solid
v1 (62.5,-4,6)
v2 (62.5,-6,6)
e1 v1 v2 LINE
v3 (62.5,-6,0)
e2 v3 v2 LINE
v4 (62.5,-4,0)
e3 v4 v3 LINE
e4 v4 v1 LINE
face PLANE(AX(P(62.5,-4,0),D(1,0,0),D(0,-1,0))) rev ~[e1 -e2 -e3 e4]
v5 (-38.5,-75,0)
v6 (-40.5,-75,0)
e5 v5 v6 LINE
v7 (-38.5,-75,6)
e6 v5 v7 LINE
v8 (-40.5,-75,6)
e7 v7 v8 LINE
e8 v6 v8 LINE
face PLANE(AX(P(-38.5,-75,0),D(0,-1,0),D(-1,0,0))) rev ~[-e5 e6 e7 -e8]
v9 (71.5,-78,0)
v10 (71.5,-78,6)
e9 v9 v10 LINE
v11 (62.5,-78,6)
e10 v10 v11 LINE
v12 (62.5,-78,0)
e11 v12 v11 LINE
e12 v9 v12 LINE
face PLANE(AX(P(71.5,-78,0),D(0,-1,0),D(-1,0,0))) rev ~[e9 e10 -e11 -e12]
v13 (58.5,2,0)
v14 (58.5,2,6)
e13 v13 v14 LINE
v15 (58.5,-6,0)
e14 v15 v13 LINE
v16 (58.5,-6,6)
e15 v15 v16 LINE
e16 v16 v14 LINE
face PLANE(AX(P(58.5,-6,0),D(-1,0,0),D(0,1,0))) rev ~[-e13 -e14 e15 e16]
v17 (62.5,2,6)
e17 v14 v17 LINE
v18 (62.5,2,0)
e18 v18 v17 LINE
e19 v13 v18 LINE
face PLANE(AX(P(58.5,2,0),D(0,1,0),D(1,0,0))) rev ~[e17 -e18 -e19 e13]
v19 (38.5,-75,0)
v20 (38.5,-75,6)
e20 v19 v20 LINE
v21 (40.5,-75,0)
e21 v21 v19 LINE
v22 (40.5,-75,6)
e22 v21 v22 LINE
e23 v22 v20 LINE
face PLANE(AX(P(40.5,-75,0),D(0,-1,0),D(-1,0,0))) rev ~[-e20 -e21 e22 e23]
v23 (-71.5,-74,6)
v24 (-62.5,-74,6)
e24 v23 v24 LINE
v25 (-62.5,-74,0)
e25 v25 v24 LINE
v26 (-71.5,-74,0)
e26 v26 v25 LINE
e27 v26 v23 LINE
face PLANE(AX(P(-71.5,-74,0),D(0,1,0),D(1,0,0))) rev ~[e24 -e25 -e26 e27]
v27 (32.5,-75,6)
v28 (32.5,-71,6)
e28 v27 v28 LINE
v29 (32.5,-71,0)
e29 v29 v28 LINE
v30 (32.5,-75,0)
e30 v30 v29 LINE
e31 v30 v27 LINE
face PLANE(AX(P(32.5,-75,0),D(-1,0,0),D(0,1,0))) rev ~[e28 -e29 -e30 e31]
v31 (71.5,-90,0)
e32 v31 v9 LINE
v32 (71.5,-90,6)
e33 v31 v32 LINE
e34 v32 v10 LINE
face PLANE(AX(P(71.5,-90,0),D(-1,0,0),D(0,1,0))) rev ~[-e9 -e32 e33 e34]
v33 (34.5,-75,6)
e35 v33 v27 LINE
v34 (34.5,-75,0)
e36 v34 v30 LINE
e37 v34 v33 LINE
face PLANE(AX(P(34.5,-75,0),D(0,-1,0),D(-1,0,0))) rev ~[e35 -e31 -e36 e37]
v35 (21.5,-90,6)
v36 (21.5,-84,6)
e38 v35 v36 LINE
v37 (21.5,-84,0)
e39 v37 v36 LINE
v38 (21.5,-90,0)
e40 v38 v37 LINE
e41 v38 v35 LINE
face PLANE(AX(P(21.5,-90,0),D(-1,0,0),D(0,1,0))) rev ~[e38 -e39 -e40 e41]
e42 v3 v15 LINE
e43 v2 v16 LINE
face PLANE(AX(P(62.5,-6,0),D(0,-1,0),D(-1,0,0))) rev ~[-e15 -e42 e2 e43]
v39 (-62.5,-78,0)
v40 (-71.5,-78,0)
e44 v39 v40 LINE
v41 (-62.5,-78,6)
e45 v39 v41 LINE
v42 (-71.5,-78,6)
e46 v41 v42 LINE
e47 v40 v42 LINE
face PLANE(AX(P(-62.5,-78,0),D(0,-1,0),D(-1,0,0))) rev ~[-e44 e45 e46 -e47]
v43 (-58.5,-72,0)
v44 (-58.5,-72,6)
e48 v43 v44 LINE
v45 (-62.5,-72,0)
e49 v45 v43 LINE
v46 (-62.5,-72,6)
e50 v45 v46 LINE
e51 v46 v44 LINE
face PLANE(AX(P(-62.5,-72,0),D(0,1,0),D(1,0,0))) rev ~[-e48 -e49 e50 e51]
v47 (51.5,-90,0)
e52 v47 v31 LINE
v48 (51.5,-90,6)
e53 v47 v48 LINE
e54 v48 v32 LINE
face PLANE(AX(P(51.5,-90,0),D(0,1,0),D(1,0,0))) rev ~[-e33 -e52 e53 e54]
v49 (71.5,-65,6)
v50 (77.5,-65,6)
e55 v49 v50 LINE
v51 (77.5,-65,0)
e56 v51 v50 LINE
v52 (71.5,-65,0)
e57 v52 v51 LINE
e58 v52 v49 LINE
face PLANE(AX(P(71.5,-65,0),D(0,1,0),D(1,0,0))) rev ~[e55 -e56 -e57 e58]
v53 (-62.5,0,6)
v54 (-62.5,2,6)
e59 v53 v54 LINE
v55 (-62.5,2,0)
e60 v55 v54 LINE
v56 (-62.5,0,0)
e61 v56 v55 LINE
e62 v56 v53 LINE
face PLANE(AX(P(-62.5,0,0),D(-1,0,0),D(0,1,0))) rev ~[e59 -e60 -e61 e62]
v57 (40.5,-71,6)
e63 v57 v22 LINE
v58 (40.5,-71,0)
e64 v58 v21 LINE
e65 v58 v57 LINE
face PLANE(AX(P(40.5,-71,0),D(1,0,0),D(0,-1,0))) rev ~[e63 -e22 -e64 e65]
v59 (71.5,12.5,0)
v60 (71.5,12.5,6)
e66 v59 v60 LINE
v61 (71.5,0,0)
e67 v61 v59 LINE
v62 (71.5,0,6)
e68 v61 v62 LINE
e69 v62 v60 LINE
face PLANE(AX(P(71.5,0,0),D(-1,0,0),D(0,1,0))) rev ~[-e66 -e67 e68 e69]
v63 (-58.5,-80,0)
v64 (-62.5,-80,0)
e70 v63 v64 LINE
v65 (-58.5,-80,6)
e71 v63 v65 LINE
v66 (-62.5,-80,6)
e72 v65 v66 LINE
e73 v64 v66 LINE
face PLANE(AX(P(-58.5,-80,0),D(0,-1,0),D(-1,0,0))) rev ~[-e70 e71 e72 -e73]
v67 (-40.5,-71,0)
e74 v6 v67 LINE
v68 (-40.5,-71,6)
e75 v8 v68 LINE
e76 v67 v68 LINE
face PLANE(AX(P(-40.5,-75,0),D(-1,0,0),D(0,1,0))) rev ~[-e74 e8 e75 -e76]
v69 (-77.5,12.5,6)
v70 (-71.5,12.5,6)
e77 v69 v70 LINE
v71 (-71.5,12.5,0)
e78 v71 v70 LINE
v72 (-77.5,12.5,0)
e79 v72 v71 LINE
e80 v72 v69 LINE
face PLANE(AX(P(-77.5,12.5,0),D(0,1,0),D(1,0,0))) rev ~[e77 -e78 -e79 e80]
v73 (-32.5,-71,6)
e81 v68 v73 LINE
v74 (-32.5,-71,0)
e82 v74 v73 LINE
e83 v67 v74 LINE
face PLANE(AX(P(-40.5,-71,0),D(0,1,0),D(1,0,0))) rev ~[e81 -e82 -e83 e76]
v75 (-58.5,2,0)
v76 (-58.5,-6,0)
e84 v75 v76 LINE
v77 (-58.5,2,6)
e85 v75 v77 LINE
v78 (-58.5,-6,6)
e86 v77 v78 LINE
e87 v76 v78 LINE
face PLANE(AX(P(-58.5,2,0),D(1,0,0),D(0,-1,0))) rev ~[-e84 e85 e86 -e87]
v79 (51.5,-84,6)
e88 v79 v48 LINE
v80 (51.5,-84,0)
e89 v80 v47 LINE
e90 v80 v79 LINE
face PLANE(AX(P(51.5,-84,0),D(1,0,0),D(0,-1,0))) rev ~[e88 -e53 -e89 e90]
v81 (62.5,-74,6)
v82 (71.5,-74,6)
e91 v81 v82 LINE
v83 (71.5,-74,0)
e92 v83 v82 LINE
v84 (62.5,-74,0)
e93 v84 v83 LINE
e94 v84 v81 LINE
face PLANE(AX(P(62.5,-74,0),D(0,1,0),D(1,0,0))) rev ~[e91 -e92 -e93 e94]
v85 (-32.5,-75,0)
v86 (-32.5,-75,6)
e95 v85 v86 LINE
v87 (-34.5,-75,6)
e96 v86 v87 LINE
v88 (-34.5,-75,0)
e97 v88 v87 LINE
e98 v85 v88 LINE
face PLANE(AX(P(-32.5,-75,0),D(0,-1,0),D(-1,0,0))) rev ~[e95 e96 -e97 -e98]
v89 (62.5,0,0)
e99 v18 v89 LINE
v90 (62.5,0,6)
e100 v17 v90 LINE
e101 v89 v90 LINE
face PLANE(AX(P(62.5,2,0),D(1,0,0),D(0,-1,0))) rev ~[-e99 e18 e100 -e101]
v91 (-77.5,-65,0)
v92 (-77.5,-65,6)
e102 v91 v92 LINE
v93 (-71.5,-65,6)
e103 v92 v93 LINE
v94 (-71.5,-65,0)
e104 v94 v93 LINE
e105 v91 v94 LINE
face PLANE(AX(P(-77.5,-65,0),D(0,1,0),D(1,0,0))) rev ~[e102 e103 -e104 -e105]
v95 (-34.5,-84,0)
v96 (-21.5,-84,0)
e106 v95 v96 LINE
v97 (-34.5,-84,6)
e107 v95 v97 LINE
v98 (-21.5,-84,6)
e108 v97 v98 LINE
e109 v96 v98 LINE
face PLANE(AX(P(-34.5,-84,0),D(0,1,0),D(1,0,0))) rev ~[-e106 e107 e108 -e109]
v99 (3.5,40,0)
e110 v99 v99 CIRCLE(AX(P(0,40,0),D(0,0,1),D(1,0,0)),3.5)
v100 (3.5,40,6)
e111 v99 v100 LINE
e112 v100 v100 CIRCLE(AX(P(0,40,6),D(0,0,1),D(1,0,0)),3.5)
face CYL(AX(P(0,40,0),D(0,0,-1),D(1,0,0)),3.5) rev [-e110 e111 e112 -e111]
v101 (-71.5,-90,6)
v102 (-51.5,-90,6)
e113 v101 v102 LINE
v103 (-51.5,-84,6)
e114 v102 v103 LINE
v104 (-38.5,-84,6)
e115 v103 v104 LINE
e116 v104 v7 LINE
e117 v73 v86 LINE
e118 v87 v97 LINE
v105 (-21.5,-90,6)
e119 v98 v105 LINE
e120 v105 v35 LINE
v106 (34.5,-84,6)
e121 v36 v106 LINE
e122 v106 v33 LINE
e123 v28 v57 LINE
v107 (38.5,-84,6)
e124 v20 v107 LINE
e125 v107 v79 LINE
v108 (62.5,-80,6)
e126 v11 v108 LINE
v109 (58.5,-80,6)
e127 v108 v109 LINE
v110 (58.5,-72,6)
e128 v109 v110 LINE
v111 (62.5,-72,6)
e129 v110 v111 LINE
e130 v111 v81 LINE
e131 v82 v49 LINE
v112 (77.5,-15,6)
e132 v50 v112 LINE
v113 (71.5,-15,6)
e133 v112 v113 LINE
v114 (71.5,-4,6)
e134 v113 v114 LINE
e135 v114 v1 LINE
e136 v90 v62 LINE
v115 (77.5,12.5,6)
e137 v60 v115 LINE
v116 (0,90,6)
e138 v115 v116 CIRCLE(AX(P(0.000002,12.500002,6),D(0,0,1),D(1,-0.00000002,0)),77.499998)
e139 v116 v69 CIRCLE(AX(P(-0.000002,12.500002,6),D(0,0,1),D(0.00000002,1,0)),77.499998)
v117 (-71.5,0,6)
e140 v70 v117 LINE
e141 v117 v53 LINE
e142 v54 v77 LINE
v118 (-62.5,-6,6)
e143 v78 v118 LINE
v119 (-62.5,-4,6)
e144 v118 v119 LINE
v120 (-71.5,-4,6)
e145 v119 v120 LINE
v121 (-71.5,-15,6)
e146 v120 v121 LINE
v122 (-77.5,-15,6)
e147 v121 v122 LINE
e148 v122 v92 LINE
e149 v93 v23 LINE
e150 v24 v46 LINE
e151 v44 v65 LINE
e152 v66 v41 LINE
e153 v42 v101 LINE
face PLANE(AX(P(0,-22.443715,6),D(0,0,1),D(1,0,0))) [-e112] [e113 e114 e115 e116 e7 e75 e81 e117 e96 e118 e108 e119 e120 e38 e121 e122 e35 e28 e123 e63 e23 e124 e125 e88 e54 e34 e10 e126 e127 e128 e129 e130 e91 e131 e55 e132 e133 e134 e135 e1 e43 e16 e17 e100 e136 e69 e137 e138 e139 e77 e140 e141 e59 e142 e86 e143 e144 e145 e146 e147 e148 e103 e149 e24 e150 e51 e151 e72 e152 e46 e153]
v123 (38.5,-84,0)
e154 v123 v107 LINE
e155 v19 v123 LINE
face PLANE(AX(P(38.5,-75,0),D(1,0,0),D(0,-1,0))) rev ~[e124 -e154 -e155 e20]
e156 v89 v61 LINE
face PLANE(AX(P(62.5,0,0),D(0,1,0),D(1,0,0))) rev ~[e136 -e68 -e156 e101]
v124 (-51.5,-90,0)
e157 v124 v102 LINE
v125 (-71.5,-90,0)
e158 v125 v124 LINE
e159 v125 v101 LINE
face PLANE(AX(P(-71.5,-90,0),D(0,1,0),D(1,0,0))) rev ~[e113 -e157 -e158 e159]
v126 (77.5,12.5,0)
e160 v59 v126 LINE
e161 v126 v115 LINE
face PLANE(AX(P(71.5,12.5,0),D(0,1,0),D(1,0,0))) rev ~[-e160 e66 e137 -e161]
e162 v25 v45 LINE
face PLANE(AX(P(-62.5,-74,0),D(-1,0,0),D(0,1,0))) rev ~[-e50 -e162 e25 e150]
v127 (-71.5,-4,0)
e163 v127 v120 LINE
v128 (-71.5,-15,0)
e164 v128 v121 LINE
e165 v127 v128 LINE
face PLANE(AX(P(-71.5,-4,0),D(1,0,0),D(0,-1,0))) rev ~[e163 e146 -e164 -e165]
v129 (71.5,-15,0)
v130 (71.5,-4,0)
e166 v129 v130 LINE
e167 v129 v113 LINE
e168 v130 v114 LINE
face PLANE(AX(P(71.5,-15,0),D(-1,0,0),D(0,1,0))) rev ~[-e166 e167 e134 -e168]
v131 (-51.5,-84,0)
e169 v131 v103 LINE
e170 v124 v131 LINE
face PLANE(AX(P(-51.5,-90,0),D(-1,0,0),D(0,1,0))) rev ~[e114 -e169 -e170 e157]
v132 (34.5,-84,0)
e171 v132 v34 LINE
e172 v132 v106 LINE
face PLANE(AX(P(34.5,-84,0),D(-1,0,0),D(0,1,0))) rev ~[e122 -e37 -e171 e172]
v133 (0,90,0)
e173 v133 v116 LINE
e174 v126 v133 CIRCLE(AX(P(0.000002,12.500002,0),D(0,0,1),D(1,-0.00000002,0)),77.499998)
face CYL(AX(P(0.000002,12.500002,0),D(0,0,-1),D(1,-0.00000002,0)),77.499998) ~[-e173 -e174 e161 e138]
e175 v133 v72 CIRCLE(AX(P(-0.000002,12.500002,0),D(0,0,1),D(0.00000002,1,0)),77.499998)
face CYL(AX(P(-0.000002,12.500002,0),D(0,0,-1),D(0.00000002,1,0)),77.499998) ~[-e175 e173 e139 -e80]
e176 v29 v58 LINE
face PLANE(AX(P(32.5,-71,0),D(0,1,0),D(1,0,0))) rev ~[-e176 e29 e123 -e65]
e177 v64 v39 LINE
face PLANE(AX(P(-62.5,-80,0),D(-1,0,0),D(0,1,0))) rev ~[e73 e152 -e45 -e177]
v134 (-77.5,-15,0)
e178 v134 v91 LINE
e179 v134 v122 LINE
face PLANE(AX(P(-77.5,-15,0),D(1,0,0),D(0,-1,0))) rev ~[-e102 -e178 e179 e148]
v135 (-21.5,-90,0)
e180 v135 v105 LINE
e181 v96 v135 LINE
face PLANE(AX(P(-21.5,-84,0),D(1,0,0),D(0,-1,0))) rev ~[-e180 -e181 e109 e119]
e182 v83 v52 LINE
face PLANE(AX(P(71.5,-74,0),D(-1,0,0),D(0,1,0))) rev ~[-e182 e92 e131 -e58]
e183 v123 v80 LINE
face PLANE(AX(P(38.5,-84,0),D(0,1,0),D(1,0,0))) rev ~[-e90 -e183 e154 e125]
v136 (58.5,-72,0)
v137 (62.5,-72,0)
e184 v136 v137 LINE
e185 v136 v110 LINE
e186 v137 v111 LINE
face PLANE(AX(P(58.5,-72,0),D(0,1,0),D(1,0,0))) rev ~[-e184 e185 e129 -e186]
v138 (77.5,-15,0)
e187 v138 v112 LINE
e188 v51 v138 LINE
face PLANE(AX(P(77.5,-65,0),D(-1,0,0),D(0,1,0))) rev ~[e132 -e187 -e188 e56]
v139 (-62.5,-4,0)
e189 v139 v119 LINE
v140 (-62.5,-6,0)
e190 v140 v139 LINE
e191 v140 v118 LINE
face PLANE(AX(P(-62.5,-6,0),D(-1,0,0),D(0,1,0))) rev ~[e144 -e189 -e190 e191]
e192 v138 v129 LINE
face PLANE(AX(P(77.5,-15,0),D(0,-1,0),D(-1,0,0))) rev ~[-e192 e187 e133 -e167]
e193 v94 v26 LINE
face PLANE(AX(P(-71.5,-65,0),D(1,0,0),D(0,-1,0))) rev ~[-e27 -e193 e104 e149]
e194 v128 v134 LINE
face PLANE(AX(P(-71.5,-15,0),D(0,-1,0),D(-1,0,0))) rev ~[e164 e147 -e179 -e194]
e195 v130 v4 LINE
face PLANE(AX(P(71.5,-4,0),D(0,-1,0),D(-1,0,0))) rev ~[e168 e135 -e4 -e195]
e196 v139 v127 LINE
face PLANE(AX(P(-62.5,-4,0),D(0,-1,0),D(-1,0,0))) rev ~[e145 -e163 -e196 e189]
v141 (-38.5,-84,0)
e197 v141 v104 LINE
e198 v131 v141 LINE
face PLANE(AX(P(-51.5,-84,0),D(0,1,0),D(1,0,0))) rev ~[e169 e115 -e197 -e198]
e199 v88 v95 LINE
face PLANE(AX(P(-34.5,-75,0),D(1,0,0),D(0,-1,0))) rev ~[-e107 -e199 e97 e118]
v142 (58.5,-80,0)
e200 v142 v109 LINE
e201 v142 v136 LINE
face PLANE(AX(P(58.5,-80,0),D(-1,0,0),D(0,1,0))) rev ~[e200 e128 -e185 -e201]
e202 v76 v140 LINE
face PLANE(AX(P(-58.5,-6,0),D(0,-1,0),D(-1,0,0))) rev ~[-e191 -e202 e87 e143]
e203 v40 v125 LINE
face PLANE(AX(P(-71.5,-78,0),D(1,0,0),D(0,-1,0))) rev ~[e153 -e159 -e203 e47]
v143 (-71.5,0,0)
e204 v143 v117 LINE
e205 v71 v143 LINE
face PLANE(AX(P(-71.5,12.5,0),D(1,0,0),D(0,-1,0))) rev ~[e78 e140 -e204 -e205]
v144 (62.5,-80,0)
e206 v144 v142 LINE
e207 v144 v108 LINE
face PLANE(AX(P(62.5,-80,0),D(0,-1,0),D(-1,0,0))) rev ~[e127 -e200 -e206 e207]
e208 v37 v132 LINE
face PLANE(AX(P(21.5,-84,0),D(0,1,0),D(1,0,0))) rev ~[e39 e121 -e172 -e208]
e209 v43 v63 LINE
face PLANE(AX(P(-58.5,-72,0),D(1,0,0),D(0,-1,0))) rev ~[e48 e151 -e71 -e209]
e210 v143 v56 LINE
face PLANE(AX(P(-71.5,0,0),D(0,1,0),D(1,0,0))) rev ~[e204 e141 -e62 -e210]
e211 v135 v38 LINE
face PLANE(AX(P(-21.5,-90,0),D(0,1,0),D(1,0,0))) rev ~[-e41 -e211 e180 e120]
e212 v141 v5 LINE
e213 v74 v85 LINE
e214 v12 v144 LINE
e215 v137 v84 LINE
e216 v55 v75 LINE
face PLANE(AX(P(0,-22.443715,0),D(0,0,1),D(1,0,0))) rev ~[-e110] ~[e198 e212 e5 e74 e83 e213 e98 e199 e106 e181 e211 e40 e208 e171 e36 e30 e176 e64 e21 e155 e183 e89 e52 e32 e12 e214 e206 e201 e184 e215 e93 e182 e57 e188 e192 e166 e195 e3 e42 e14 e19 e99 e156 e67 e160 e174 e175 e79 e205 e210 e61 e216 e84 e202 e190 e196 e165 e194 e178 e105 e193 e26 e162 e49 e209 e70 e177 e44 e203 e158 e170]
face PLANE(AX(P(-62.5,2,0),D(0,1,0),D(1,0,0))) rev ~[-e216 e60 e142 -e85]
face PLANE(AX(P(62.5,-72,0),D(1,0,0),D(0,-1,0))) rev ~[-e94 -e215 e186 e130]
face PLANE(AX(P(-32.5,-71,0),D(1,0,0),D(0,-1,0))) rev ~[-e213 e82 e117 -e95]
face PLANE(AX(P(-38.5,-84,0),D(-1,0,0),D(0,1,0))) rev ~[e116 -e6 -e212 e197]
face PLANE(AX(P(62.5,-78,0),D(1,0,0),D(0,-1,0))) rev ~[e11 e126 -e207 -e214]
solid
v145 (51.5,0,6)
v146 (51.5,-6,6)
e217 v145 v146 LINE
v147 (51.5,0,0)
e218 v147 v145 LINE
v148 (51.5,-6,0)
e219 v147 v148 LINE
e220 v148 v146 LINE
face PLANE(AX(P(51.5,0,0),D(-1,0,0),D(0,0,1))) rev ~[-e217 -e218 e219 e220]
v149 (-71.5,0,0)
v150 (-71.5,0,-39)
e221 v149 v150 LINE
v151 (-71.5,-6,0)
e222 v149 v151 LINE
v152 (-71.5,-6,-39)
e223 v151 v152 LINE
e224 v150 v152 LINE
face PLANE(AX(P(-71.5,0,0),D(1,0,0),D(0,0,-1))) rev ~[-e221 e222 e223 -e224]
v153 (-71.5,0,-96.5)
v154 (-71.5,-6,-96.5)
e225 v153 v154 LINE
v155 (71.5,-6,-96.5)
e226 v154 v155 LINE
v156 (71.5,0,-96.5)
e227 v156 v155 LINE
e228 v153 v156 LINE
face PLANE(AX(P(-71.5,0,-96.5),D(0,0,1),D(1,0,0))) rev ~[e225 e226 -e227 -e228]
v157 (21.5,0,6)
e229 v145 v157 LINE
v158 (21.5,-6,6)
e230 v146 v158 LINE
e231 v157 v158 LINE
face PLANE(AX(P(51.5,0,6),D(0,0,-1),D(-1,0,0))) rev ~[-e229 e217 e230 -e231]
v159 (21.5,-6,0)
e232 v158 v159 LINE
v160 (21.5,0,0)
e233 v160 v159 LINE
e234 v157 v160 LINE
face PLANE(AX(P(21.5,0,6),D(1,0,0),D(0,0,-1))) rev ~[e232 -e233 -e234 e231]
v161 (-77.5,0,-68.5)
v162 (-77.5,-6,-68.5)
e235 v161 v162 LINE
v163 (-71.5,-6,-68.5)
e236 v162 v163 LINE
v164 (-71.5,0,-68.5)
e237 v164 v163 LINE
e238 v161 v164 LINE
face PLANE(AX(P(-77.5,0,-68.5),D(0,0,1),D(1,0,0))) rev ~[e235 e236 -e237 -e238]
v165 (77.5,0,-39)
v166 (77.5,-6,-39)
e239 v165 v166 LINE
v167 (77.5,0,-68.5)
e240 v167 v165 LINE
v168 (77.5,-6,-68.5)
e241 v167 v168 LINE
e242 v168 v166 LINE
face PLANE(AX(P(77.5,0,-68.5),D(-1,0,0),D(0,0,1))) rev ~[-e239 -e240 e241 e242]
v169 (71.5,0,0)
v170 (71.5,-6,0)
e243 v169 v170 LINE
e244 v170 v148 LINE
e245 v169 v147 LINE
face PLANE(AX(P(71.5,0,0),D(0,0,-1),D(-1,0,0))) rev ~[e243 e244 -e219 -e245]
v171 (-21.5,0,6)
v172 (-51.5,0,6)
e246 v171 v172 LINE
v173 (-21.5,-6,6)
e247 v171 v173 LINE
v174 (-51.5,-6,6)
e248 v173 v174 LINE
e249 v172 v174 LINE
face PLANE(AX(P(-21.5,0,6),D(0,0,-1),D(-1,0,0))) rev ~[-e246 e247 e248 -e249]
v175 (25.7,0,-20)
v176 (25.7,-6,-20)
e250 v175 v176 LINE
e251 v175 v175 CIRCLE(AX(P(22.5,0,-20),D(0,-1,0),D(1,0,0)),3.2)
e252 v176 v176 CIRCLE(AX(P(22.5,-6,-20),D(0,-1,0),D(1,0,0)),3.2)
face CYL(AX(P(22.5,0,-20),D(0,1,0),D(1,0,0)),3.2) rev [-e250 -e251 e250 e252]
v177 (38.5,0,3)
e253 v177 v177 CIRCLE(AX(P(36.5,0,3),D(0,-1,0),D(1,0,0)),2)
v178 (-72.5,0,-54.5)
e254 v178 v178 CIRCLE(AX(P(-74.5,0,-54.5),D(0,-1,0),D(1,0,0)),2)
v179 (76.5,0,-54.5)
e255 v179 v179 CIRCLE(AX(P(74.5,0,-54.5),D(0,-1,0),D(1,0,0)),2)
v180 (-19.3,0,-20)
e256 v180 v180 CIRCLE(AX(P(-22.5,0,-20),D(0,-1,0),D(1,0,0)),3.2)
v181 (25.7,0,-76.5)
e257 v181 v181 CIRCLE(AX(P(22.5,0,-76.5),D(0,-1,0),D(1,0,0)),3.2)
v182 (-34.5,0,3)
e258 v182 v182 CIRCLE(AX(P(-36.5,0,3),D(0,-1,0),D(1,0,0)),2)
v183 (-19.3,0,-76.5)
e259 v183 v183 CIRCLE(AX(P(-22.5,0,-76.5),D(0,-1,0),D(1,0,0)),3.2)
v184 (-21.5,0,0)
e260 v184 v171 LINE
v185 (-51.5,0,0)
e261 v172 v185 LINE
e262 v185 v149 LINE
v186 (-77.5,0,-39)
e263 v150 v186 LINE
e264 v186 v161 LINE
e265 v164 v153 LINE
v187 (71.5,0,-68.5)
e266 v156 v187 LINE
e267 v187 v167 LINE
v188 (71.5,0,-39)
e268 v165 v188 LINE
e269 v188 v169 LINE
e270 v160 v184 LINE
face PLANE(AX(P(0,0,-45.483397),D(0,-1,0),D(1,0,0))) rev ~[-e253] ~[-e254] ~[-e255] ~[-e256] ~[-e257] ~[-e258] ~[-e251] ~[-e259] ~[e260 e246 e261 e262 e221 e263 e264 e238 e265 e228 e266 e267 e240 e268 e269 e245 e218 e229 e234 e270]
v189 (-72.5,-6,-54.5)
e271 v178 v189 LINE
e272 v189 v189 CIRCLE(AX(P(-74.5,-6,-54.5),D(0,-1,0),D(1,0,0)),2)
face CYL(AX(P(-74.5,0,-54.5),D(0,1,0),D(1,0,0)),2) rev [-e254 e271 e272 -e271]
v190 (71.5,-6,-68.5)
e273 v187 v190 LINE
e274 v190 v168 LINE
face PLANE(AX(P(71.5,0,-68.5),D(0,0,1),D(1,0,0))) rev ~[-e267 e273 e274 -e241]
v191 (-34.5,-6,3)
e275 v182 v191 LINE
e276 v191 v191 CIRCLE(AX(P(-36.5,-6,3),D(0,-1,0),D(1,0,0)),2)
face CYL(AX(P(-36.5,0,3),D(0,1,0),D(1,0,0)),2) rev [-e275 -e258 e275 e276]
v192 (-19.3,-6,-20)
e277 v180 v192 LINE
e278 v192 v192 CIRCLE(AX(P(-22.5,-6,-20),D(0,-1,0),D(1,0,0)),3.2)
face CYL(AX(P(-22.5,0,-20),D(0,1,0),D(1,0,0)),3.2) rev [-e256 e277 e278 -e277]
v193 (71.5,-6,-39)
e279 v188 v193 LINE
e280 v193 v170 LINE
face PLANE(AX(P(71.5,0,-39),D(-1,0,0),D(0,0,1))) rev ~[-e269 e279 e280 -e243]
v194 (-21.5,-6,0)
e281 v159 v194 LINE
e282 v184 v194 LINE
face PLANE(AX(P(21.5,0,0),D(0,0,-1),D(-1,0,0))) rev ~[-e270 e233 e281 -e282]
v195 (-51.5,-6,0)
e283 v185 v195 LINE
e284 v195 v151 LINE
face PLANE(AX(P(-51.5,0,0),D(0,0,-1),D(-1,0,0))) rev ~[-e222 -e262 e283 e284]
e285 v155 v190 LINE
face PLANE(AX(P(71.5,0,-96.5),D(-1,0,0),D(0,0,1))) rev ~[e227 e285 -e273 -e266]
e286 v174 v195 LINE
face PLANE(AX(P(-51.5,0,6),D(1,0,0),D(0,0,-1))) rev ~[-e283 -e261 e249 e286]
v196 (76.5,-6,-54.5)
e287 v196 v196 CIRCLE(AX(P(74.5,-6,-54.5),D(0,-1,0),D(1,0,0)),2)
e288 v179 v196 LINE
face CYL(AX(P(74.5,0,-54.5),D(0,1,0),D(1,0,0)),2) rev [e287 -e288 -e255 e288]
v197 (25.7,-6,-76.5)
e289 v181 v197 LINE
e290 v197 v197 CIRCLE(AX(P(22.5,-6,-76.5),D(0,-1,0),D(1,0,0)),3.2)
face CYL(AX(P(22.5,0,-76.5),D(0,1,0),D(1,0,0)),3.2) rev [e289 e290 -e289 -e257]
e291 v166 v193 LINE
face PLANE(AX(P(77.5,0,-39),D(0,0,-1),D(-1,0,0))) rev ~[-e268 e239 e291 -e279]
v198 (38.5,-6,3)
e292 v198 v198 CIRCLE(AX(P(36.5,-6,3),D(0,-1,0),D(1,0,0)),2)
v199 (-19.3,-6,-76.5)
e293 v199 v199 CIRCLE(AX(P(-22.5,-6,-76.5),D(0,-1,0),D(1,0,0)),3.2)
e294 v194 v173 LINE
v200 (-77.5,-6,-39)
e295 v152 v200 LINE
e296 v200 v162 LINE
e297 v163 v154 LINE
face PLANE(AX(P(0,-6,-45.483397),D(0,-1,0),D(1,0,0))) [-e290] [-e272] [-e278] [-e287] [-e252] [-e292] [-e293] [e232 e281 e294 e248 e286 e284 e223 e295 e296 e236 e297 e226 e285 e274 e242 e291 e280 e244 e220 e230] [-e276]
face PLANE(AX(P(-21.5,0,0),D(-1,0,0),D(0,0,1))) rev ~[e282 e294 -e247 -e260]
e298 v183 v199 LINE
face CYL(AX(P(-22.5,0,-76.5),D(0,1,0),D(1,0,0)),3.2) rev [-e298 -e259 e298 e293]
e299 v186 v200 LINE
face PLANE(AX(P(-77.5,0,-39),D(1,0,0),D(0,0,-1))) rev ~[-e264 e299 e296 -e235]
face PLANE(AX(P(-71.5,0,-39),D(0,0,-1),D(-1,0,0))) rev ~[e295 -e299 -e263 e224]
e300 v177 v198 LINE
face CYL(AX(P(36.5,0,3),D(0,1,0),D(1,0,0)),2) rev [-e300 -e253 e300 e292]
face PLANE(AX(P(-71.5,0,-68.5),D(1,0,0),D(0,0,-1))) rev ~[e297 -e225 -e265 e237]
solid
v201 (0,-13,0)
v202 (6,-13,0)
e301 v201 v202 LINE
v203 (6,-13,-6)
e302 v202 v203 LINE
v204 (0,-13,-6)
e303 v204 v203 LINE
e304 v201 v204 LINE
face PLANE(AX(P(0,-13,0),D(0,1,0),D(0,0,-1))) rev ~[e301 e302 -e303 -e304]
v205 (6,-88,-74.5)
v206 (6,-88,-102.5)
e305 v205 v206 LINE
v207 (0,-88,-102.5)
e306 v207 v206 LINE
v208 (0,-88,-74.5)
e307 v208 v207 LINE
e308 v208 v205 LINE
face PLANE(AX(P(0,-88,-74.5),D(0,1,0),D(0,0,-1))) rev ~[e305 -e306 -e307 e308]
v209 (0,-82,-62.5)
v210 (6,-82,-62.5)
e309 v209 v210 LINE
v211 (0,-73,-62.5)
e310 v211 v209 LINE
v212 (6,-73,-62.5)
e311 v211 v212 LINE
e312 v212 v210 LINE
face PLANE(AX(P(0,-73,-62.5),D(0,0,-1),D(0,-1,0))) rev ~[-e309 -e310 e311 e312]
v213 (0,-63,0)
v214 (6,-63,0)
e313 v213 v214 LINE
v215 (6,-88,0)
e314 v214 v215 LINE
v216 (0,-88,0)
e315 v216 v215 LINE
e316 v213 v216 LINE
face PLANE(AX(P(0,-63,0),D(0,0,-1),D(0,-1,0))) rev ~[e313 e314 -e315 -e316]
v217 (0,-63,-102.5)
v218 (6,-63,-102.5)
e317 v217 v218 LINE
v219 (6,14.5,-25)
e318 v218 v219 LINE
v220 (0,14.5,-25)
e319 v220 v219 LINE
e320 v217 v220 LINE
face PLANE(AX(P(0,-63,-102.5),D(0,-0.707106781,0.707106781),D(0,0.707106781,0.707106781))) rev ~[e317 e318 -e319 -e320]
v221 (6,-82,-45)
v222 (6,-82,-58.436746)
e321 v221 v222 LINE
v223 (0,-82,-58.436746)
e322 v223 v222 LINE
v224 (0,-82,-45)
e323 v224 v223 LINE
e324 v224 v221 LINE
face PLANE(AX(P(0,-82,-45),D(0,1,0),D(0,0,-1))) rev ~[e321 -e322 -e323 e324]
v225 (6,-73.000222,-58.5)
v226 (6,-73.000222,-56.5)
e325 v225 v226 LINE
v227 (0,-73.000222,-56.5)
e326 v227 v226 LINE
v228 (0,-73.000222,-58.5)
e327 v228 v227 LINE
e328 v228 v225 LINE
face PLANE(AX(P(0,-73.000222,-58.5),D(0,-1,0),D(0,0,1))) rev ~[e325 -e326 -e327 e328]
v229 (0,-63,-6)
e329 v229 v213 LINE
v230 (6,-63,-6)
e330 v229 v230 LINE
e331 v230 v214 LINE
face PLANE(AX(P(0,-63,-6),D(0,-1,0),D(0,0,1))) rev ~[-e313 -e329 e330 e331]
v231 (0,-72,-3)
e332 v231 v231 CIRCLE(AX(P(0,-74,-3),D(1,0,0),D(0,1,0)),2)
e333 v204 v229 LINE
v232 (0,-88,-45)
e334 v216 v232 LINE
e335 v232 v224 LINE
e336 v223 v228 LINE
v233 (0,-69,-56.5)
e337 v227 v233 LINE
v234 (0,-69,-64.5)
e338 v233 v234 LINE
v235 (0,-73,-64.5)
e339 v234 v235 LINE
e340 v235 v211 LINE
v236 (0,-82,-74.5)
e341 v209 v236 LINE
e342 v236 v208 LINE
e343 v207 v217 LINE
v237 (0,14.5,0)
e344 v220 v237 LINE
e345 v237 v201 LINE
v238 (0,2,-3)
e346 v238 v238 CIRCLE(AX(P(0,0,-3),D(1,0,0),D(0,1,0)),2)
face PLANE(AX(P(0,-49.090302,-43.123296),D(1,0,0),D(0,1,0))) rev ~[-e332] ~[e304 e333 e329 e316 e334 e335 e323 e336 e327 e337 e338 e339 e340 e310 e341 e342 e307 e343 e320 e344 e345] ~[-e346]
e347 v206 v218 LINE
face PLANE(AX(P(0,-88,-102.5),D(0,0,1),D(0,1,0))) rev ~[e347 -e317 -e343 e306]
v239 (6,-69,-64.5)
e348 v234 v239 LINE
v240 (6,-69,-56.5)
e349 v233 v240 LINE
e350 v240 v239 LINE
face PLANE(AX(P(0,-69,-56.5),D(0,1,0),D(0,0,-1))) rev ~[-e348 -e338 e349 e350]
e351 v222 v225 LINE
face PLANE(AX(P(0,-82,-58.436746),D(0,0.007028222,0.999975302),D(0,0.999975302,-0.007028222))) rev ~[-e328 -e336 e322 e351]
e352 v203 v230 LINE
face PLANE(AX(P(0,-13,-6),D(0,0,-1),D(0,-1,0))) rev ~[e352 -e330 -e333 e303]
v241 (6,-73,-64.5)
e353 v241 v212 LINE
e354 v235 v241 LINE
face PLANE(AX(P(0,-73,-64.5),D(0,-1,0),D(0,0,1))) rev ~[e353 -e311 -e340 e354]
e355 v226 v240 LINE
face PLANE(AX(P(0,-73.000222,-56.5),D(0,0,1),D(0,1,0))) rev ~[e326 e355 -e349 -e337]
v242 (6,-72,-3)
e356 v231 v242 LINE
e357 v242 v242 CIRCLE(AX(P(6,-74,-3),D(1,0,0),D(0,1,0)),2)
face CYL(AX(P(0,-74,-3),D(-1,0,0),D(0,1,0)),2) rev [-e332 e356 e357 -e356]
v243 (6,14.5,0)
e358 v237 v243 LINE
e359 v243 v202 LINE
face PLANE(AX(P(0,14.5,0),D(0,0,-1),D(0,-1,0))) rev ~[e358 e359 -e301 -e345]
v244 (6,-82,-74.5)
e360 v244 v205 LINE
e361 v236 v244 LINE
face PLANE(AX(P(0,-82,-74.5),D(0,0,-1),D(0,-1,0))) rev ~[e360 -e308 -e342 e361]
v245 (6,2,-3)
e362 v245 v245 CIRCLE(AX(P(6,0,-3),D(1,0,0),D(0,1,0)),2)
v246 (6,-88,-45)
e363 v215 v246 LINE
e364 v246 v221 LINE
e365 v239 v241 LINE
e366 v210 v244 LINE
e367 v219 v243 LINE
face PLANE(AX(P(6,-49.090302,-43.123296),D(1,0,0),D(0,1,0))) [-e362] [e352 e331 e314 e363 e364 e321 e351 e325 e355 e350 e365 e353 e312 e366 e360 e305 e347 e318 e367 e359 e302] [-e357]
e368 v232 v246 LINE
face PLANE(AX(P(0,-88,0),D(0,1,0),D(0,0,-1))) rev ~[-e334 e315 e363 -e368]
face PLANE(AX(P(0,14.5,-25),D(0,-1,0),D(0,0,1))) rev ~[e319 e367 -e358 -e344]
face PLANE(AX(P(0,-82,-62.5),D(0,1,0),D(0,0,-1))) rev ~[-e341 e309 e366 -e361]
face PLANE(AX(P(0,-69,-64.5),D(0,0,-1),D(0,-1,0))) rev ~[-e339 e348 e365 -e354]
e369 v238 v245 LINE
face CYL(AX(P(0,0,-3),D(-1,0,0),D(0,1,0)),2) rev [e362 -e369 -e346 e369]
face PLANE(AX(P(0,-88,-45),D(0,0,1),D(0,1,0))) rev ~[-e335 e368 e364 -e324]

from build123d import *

# Parameters (mm, degrees)
F0_R     = 3.5
F2_DEPTH = 6
F1_R     = 2
F4_DEPTH = 6
F3_R     = 3.2
F3_R_2   = 2
F5_DEPTH = 6


with BuildPart() as f2:
    # F0 (on Top) → F2 (new body)
    with BuildSketch(Plane.XY):
        with BuildLine():
            ThreePointArc((77.5, 12.5), (54.800776, 67.300776), (0, 90))
            ThreePointArc((0, 90), (-54.800776, 67.300776), (-77.5, 12.5))
            Line((-77.5, 12.5), (-71.5, 12.5))
            Line((-71.5, 12.5), (-71.5, 0))
            Line((-71.5, 0), (-62.5, 0))
            Line((-62.5, 0), (-62.5, 2))
            Line((-62.5, 2), (-58.5, 2))
            Line((-58.5, 2), (-58.5, -6))
            Line((-58.5, -6), (-62.5, -6))
            Line((-62.5, -6), (-62.5, -4))
            Line((-62.5, -4), (-71.5, -4))
            Line((-71.5, -4), (-71.5, -15))
            Line((-71.5, -15), (-77.5, -15))
            Line((-77.5, -15), (-77.5, -65))
            Line((-77.5, -65), (-71.5, -65))
            Line((-71.5, -65), (-71.5, -74))
            Line((-71.5, -74), (-62.5, -74))
            Line((-62.5, -74), (-62.5, -72))
            Line((-62.5, -72), (-58.5, -72))
            Line((-58.5, -72), (-58.5, -80))
            Line((-58.5, -80), (-62.5, -80))
            Line((-62.5, -80), (-62.5, -78))
            Line((-62.5, -78), (-71.5, -78))
            Line((-71.5, -78), (-71.5, -90))
            Line((-71.5, -90), (-51.5, -90))
            Line((-51.5, -90), (-51.5, -84))
            Line((-51.5, -84), (-38.5, -84))
            Line((-38.5, -84), (-38.5, -75))
            Line((-38.5, -75), (-40.5, -75))
            Line((-40.5, -75), (-40.5, -71))
            Line((-40.5, -71), (-32.5, -71))
            Line((-32.5, -71), (-32.5, -75))
            Line((-32.5, -75), (-34.5, -75))
            Line((-34.5, -75), (-34.5, -84))
            Line((-34.5, -84), (-21.5, -84))
            Line((-21.5, -84), (-21.5, -90))
            Line((-21.5, -90), (0, -90))
            Line((0, -90), (21.5, -90))
            Line((21.5, -90), (21.5, -84))
            Line((21.5, -84), (34.5, -84))
            Line((34.5, -84), (34.5, -75))
            Line((34.5, -75), (32.5, -75))
            Line((32.5, -75), (32.5, -71))
            Line((32.5, -71), (40.5, -71))
            Line((40.5, -71), (40.5, -75))
            Line((40.5, -75), (38.5, -75))
            Line((38.5, -75), (38.5, -84))
            Line((38.5, -84), (51.5, -84))
            Line((51.5, -84), (51.5, -90))
            Line((51.5, -90), (71.5, -90))
            Line((71.5, -90), (71.5, -78))
            Line((71.5, -78), (62.5, -78))
            Line((62.5, -78), (62.5, -80))
            Line((62.5, -80), (58.5, -80))
            Line((58.5, -80), (58.5, -72))
            Line((58.5, -72), (62.5, -72))
            Line((62.5, -72), (62.5, -74))
            Line((62.5, -74), (71.5, -74))
            Line((71.5, -74), (71.5, -65))
            Line((71.5, -65), (77.5, -65))
            Line((77.5, -65), (77.5, -15))
            Line((77.5, -15), (71.5, -15))
            Line((71.5, -15), (71.5, -4))
            Line((71.5, -4), (62.5, -4))
            Line((62.5, -4), (62.5, -6))
            Line((62.5, -6), (58.5, -6))
            Line((58.5, -6), (58.5, 2))
            Line((58.5, 2), (62.5, 2))
            Line((62.5, 2), (62.5, 0))
            Line((62.5, 0), (71.5, 0))
            Line((71.5, 0), (71.5, 12.5))
            Line((71.5, 12.5), (77.5, 12.5))
        make_face()
        with Locations((0, 40)):
            Circle(F0_R, mode=Mode.SUBTRACT)
    extrude(amount=F2_DEPTH)


with BuildPart() as f4:
    # F1 (on Right) → F4 (new body)
    with BuildSketch(Plane.YZ):
        Polygon((-63, 0), (-88, 0), (-88, -45), (-82, -45), (-82, -58.436746), (-73.000222, -58.5), (-73.000222, -56.5), (-69, -56.5), (-69, -64.5), (-73, -64.5), (-73, -62.5), (-82, -62.5), (-82, -74.5), (-88, -74.5), (-88, -102.5), (-63, -102.5), (14.5, -25), (14.5, 0), (-13, 0), (-13, -6), (-63, -6), align=None)
        with Locations((-74, -3)):
            Circle(F1_R, mode=Mode.SUBTRACT)
        with Locations((0, -3)):
            Circle(F1_R, mode=Mode.SUBTRACT)
    extrude(amount=F4_DEPTH)


with BuildPart() as f5:
    # F3 (on Front) → F5 (new body)
    with BuildSketch(Plane.XZ):
        Polygon((-71.5, -68.5), (-71.5, -96.5), (71.5, -96.5), (71.5, -68.5), (77.5, -68.5), (77.5, -39), (71.5, -39), (71.5, 0), (51.5, 0), (51.5, 6), (21.5, 6), (21.5, 0), (-21.5, 0), (-21.5, 6), (-51.5, 6), (-51.5, 0), (-71.5, 0), (-71.5, -39), (-77.5, -39), (-77.5, -68.5), align=None)
        with Locations((-22.5, -76.5)):
            Circle(F3_R, mode=Mode.SUBTRACT)
        with Locations((-74.5, -54.5)):
            Circle(F3_R_2, mode=Mode.SUBTRACT)
        with Locations((22.5, -76.5)):
            Circle(F3_R, mode=Mode.SUBTRACT)
        with Locations((74.5, -54.5)):
            Circle(F3_R_2, mode=Mode.SUBTRACT)
        with Locations((-22.5, -20)):
            Circle(F3_R, mode=Mode.SUBTRACT)
        with Locations((-36.5, 3)):
            Circle(F3_R_2, mode=Mode.SUBTRACT)
        with Locations((22.5, -20)):
            Circle(F3_R, mode=Mode.SUBTRACT)
        with Locations((36.5, 3)):
            Circle(F3_R_2, mode=Mode.SUBTRACT)
    extrude(amount=F5_DEPTH)


solid = Compound([f2.part, f4.part, f5.part])
